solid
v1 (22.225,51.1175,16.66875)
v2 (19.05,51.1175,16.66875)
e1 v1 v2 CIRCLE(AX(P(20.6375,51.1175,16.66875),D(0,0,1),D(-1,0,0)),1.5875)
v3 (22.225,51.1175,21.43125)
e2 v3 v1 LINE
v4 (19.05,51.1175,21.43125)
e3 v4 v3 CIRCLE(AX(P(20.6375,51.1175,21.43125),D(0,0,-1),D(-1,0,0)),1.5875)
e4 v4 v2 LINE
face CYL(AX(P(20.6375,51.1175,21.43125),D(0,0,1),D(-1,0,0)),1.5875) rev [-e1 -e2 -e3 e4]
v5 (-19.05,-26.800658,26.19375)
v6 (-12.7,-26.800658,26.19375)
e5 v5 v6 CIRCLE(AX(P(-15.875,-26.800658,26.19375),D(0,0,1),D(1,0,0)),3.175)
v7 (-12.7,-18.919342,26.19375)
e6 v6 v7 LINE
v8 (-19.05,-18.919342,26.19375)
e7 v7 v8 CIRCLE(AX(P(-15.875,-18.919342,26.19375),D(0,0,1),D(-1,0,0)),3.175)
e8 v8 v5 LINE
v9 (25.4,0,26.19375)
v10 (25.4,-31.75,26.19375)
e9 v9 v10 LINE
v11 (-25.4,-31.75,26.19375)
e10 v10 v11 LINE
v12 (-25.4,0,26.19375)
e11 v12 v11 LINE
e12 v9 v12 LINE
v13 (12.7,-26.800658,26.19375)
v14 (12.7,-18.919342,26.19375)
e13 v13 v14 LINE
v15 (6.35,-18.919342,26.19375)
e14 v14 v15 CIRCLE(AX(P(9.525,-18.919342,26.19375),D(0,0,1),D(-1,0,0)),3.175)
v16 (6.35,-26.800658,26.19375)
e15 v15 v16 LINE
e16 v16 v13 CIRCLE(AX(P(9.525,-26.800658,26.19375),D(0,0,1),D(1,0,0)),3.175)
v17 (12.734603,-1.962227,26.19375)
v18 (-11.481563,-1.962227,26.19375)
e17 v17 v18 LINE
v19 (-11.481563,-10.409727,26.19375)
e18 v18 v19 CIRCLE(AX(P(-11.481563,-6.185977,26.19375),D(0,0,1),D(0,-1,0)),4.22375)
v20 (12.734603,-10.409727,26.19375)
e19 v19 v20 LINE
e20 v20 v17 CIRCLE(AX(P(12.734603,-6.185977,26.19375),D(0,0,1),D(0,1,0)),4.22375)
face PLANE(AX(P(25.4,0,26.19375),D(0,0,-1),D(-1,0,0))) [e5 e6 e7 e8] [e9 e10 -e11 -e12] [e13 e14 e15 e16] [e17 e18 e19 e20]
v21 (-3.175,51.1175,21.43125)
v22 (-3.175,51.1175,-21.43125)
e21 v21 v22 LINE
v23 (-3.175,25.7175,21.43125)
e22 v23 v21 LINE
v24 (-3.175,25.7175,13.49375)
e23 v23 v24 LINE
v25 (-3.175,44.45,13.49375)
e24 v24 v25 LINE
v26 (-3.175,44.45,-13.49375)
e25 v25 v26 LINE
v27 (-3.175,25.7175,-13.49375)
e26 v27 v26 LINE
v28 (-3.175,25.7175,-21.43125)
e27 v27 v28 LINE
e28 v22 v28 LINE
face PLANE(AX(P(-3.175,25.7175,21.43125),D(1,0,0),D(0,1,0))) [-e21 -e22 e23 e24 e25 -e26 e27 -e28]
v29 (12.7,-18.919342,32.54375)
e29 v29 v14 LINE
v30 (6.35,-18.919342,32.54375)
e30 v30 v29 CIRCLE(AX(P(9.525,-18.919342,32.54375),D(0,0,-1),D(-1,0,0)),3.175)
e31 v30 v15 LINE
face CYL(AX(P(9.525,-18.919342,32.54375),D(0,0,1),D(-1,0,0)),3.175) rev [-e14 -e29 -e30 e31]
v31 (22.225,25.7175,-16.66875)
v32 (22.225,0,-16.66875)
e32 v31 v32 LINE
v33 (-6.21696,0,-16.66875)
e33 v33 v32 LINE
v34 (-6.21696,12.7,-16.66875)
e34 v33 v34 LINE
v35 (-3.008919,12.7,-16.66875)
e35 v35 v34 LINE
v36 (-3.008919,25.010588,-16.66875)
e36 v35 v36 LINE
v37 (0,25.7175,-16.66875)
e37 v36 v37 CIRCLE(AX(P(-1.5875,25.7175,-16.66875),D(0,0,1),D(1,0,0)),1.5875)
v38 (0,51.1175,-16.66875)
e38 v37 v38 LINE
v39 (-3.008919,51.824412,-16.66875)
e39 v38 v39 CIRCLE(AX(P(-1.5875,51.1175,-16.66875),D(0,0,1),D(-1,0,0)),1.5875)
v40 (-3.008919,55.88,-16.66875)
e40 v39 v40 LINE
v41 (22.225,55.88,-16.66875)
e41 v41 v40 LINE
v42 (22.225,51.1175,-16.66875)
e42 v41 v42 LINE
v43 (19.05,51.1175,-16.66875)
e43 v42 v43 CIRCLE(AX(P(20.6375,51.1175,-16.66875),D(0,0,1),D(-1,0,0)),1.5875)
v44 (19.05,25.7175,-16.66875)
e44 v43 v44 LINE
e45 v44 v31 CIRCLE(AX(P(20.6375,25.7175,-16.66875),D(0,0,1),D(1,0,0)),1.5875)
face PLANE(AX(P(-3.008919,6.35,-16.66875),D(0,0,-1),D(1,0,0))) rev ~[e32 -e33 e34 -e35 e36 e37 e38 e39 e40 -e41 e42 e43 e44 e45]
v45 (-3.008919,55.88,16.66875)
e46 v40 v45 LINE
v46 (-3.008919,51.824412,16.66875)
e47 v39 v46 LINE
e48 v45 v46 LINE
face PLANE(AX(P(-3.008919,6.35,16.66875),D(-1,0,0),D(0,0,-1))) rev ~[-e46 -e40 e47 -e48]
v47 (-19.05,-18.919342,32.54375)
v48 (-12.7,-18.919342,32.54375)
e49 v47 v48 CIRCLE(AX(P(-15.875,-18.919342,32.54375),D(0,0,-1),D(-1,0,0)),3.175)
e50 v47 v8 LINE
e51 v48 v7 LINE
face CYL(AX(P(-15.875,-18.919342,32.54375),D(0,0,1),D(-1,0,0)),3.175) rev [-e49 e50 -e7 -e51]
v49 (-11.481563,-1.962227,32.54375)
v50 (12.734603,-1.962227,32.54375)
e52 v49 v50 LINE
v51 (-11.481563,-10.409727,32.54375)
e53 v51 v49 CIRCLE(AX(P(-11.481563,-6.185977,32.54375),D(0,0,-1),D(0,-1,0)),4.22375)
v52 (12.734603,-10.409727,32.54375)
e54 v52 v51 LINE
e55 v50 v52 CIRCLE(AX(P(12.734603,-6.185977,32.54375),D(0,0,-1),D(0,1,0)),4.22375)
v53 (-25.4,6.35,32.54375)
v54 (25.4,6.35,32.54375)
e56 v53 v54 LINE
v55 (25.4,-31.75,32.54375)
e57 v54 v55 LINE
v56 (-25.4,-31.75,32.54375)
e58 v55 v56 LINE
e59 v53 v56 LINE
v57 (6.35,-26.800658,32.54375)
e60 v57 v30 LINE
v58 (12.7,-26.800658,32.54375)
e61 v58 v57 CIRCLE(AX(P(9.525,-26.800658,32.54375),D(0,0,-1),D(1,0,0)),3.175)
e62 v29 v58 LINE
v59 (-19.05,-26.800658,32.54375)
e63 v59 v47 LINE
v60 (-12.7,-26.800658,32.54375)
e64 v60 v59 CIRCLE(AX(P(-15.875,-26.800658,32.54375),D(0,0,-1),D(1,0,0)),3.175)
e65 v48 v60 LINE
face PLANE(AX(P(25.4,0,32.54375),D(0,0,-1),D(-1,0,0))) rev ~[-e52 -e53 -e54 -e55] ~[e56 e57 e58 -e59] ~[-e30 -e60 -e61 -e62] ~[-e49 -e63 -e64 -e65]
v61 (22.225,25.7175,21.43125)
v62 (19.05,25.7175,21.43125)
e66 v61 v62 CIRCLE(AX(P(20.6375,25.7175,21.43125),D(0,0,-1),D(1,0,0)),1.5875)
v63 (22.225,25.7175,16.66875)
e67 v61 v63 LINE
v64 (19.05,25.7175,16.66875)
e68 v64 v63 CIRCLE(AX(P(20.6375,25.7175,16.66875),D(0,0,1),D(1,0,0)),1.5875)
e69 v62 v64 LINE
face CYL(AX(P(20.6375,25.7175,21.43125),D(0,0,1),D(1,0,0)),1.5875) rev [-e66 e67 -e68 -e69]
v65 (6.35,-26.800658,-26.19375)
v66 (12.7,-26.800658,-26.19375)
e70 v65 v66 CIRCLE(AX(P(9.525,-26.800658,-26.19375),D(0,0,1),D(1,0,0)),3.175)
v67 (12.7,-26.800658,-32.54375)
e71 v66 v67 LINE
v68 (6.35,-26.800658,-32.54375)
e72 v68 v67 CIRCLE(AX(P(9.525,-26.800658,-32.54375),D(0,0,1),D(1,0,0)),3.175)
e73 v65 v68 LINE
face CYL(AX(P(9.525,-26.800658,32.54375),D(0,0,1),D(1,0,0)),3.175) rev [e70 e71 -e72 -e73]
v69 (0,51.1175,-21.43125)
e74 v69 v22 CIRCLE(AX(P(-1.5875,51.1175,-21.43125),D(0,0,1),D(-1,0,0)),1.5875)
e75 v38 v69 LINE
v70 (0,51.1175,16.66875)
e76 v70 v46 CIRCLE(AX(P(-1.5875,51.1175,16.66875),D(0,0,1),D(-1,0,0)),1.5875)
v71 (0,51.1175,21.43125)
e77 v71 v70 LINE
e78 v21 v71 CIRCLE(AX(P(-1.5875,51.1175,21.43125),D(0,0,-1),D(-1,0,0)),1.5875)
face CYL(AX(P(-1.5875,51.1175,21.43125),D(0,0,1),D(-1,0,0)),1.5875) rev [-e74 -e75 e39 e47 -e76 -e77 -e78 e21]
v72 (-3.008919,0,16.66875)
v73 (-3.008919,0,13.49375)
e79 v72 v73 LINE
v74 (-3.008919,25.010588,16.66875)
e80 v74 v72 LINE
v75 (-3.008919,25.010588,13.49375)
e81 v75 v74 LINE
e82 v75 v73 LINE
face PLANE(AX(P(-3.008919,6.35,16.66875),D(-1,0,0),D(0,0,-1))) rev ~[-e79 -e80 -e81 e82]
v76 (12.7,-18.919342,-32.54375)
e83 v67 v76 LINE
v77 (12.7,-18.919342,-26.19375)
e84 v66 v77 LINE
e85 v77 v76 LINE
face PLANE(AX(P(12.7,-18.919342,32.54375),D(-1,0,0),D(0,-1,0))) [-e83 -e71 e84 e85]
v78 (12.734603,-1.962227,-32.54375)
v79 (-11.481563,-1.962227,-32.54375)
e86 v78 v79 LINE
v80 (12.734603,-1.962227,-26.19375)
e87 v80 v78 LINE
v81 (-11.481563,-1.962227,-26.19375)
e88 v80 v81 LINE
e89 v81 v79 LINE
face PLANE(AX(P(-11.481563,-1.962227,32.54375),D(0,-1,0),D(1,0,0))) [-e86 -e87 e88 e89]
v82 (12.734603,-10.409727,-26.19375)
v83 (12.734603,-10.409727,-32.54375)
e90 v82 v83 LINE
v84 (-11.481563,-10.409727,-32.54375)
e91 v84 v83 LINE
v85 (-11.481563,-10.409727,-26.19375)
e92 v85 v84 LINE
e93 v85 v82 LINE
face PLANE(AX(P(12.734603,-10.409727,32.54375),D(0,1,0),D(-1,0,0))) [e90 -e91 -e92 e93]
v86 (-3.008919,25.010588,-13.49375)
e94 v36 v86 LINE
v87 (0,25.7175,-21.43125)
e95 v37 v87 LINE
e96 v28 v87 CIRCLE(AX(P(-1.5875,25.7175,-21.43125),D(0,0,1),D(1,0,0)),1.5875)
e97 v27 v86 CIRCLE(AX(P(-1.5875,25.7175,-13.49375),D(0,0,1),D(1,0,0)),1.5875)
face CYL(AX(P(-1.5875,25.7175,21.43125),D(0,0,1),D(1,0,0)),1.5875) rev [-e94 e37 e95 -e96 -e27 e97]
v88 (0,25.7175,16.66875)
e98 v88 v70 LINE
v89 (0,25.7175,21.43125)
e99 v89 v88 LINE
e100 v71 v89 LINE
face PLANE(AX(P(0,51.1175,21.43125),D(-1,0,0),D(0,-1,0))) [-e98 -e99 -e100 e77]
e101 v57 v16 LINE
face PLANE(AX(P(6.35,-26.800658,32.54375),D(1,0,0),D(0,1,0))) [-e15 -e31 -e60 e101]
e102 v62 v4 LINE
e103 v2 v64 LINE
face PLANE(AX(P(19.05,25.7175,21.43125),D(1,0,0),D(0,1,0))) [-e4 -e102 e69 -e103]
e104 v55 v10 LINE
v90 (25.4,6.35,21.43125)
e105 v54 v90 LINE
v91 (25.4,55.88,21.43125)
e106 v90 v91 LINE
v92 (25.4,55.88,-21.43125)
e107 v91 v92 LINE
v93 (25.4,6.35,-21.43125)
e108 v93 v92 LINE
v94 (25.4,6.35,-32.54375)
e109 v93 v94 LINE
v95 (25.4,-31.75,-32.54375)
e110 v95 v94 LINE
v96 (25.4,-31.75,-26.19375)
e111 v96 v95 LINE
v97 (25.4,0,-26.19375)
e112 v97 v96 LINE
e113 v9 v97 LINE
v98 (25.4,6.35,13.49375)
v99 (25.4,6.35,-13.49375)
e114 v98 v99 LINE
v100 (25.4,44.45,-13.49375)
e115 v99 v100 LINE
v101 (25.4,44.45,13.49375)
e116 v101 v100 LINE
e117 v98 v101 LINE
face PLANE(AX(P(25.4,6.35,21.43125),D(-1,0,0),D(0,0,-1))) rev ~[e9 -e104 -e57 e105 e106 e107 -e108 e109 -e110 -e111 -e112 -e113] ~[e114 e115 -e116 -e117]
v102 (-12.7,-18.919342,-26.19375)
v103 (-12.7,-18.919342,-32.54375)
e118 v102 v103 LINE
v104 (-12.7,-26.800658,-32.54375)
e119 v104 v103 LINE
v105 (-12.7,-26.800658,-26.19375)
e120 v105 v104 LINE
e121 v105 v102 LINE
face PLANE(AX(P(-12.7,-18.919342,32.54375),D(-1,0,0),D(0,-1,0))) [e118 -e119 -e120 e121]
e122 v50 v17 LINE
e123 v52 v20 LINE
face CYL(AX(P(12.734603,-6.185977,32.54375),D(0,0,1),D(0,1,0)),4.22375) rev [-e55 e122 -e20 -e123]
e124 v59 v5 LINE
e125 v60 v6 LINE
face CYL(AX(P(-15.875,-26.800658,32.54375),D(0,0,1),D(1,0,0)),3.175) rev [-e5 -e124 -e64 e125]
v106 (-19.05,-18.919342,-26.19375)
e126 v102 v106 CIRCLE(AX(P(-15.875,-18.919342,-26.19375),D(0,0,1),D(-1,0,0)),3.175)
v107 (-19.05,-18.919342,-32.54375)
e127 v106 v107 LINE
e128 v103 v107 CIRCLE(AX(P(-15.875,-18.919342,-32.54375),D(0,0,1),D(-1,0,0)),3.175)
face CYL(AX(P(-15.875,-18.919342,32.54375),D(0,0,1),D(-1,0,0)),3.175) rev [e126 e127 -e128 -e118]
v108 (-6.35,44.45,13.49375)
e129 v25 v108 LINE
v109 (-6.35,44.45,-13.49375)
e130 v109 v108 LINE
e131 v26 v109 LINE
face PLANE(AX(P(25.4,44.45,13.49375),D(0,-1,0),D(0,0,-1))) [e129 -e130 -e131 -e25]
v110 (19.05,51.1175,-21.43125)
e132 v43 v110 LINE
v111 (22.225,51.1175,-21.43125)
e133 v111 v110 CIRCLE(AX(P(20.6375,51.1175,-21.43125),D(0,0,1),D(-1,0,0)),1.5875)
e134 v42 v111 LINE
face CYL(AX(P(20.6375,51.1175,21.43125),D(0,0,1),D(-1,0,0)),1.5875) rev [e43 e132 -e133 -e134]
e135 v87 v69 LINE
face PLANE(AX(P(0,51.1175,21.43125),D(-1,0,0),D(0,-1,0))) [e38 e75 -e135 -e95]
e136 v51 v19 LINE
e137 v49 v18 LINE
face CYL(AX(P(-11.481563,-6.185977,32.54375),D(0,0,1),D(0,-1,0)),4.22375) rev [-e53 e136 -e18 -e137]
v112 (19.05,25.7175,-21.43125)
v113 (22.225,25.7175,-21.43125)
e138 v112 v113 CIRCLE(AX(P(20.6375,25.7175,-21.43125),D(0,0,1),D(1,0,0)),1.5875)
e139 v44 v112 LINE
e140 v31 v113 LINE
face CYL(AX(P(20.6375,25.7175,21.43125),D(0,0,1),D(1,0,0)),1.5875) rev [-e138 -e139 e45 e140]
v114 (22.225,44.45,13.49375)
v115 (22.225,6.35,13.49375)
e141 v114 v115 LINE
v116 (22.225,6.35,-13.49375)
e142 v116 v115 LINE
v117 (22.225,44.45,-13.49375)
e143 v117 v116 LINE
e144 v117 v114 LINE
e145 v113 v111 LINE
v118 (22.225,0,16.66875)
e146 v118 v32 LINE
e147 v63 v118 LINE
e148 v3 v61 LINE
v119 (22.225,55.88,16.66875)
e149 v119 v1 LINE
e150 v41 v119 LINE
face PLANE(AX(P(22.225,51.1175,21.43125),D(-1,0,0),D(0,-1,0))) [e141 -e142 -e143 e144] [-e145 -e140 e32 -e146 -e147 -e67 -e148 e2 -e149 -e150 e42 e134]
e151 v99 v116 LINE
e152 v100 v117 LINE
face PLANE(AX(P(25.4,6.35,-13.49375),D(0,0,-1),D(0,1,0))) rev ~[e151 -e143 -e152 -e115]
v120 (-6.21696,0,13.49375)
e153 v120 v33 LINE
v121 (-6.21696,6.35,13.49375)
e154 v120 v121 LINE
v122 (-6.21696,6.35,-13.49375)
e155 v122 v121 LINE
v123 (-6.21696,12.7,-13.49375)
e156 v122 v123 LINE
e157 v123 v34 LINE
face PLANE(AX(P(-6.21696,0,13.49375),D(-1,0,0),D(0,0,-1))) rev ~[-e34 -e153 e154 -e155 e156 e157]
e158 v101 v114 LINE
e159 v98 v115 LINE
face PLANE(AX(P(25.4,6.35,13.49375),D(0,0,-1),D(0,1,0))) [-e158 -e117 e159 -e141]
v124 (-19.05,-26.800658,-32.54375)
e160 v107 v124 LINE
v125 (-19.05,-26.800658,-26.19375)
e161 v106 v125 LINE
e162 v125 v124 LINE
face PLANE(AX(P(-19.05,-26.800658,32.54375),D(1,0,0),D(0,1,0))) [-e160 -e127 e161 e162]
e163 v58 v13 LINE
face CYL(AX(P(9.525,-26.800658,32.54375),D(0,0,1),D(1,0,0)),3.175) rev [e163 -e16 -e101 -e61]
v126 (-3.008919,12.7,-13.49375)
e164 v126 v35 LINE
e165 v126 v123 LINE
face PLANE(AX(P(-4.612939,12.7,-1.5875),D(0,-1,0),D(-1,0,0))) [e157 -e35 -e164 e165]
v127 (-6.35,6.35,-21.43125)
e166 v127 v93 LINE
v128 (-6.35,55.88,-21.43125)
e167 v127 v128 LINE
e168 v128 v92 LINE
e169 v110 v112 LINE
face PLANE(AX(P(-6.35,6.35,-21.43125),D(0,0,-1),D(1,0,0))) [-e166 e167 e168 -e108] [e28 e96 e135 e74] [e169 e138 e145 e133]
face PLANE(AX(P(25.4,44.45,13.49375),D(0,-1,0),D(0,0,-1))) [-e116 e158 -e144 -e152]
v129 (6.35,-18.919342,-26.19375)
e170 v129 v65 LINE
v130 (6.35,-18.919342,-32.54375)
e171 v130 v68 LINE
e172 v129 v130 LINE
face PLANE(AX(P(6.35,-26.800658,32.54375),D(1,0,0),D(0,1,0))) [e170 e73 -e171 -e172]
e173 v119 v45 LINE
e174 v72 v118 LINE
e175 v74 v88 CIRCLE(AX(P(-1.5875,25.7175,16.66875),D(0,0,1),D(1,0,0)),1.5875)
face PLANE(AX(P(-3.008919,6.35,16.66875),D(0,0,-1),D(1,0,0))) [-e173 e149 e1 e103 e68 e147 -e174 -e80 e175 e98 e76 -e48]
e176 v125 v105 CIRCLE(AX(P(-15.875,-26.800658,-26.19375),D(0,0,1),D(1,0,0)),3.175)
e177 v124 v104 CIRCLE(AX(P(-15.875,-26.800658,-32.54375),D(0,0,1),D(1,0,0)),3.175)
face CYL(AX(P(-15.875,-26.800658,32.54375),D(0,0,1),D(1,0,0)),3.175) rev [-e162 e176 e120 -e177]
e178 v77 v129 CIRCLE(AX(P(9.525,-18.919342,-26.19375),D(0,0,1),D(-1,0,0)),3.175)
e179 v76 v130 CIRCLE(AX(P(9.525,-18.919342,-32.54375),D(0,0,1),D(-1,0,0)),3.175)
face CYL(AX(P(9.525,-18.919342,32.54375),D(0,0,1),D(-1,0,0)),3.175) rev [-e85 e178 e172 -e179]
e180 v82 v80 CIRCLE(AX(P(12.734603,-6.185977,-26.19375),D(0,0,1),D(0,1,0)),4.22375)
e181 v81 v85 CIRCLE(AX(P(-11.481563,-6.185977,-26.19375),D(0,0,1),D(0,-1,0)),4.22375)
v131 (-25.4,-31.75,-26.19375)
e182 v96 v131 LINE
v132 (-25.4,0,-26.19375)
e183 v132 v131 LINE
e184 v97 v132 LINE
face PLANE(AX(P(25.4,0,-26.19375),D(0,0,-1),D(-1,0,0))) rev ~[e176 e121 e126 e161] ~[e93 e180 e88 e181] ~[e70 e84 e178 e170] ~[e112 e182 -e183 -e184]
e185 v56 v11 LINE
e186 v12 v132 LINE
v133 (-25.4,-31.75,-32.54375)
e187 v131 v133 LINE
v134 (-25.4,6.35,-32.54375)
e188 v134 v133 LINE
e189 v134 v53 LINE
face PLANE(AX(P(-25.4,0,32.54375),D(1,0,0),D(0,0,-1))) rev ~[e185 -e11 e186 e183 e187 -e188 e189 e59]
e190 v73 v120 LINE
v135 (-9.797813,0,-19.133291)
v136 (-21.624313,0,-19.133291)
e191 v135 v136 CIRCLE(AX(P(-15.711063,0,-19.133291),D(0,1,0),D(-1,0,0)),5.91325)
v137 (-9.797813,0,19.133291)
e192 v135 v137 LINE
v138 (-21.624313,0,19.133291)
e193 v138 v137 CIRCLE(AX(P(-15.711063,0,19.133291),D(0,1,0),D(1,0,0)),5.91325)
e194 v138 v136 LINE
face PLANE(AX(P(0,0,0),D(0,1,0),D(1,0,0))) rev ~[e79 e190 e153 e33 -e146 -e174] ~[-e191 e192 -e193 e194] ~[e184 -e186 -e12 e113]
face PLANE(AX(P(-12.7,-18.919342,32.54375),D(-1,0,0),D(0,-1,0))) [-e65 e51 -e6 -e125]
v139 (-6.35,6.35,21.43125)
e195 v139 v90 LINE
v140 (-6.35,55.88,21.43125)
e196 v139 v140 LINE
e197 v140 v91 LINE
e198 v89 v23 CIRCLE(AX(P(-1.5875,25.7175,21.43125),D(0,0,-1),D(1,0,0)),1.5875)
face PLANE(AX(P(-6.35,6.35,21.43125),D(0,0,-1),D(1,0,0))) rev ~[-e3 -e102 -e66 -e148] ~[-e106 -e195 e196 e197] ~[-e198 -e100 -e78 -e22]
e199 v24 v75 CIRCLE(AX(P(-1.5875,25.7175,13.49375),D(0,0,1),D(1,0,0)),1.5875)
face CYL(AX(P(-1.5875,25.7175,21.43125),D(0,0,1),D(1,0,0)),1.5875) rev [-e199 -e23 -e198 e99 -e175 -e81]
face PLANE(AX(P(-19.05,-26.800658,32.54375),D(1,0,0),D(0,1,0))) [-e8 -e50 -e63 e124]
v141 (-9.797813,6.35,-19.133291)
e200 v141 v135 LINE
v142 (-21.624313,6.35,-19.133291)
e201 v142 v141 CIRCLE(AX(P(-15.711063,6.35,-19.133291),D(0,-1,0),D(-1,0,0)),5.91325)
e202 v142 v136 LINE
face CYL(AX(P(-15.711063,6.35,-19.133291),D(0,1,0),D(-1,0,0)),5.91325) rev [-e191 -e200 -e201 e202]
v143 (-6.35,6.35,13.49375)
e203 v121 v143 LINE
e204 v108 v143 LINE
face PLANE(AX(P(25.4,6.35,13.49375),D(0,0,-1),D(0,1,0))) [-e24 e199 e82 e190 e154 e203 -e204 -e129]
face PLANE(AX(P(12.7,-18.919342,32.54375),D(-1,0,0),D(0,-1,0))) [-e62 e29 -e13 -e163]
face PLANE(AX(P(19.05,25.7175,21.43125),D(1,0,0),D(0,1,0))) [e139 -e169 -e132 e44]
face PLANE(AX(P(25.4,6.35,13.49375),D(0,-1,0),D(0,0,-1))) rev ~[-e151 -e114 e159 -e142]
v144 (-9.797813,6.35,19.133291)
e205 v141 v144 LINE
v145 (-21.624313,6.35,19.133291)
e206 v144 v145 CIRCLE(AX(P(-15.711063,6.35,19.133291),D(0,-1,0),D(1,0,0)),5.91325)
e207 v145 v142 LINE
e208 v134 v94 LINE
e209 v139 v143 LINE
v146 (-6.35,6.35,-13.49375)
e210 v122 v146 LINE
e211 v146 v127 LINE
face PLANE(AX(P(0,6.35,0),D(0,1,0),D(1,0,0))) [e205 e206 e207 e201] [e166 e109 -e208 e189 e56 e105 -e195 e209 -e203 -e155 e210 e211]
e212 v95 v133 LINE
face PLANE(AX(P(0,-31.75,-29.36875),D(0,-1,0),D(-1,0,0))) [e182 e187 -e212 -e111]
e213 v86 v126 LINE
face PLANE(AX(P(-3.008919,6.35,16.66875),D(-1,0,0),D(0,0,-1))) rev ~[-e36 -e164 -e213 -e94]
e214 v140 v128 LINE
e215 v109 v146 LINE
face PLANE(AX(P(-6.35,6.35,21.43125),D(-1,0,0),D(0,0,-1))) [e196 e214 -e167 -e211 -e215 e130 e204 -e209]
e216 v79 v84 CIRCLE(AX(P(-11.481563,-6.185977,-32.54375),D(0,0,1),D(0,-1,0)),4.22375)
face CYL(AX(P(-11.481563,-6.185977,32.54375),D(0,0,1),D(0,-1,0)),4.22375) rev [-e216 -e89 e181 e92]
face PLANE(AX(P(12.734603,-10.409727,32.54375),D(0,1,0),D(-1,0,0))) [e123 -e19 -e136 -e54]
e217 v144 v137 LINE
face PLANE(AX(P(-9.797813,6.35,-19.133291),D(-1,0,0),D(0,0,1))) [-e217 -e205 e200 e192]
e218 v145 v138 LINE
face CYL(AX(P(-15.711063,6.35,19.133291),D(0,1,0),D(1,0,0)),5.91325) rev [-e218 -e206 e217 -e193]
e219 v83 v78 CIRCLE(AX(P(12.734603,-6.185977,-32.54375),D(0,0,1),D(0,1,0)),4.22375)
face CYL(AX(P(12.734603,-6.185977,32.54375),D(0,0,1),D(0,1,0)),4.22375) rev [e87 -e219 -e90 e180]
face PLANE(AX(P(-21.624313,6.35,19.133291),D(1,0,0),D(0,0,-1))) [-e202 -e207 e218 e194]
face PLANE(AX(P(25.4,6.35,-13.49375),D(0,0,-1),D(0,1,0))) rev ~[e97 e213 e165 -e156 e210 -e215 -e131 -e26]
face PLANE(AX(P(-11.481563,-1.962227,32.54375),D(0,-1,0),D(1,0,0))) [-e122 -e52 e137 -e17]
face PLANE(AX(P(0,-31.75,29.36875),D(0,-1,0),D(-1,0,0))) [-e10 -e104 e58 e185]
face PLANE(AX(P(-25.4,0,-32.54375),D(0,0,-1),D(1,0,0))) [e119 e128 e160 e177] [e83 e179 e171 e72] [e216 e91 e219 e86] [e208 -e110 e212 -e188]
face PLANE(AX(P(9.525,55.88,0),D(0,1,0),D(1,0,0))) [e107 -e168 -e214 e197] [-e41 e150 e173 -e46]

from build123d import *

# Parameters (mm, degrees)
SKETCH1_W           = 50.8
SKETCH1_H           = 65.0875
BOSS_EXTRUDE1_DEPTH = 6.35
SKETCH2_W           = 50.8
SKETCH2_H           = 6.35
BOSS_EXTRUDE2_DEPTH = 31.75
SKETCH4_W           = 25.233918668
SKETCH4_H           = 33.3375
CUT_EXTRUDE1_DEPTH  = 31.75
SKETCH5_W           = 31.75
SKETCH5_H           = 42.8625
BOSS_EXTRUDE3_DEPTH = 49.53
SKETCH4_2_W         = 25.233918668
SKETCH4_2_H         = 33.3375
CUT_EXTRUDE2_DEPTH  = 58.7375
CUT_EXTRUDE4_DEPTH  = 58.7375
SKETCH8_W           = 26.9875
SKETCH8_H           = 38.1
CUT_EXTRUDE7_DEPTH  = 58.7375
SKETCH12_W          = 3.208041114
SKETCH12_H          = 30.1625
CUT_EXTRUDE13_DEPTH = 12.7
CUT_EXTRUDE14_DEPTH = 76.2
CUT_EXTRUDE15_DEPTH = 76.2
CUT_EXTRUDE16_DEPTH = 76.2


with BuildPart() as part:
    # Sketch1 → Boss-Extrude1 (new body)
    with BuildSketch(Plane(origin=(0, 0, 0), x_dir=(1, 0, 0), z_dir=(0, 1, 0))):
        Rectangle(SKETCH1_W, SKETCH1_H)
    extrude(amount=BOSS_EXTRUDE1_DEPTH)

    # Sketch2 → Boss-Extrude2 (add)
    with BuildSketch(Plane(origin=(0, 0, 0), x_dir=(-1, 0, 0), z_dir=(0, -1, 0))):
        with Locations((0, -29.36875)):
            Rectangle(SKETCH2_W, SKETCH2_H)
        with Locations((0, 29.36875)):
            Rectangle(SKETCH2_W, SKETCH2_H)
    extrude(amount=BOSS_EXTRUDE2_DEPTH)

    # Sketch4 → Cut-Extrude1 (cut)
    with BuildSketch(Plane(origin=(0, 6.35, 0), x_dir=(1, 0, 0), z_dir=(0, 1, 0))):
        with Locations((9.608040666, 0)):
            Rectangle(SKETCH4_W, SKETCH4_H)
    extrude(amount=-CUT_EXTRUDE1_DEPTH, mode=Mode.SUBTRACT)

    # Sketch5 → Boss-Extrude3 (add)
    with BuildSketch(Plane(origin=(0, 6.35, 0), x_dir=(1, 0, 0), z_dir=(0, 1, 0))):
        with Locations((9.525, 0)):
            Rectangle(SKETCH5_W, SKETCH5_H)
    extrude(amount=BOSS_EXTRUDE3_DEPTH)

    # Sketch4<2> → Cut-Extrude2 (cut)
    with BuildSketch(Plane(origin=(0, 6.35, 0), x_dir=(1, 0, 0), z_dir=(0, 1, 0))):
        with Locations((9.608040666, 0)):
            Rectangle(SKETCH4_2_W, SKETCH4_2_H)
    extrude(amount=CUT_EXTRUDE2_DEPTH, mode=Mode.SUBTRACT)

    # Sketch7 → Cut-Extrude4 (cut)
    with BuildSketch(Plane.XY.offset(21.43125)):
        with BuildLine():
            Line((19.05, 25.7175), (19.05, 51.1175))
            ThreePointArc((19.05, 51.1175), (20.6375, 52.705), (22.225, 51.1175))
            Line((22.225, 51.1175), (22.225, 25.7175))
            ThreePointArc((22.225, 25.7175), (20.6375, 24.13), (19.05, 25.7175))
        make_face()
        with BuildLine():
            Line((0, 51.1175), (0, 25.7175))
            ThreePointArc((0, 25.7175), (-1.5875, 24.13), (-3.175, 25.7175))
            Line((-3.175, 25.7175), (-3.175, 51.1175))
            ThreePointArc((-3.175, 51.1175), (-1.5875, 52.705), (0, 51.1175))
        make_face()
    extrude(amount=-CUT_EXTRUDE4_DEPTH, mode=Mode.SUBTRACT)

    # Sketch8 → Cut-Extrude7 (cut)
    with BuildSketch(Plane(origin=(25.4, 0, 0), x_dir=(0, 0, -1), z_dir=(1, 0, 0))):
        with Locations((0, 25.4)):
            Rectangle(SKETCH8_W, SKETCH8_H)
    extrude(amount=-CUT_EXTRUDE7_DEPTH, mode=Mode.SUBTRACT)

    # Sketch12 → Cut-Extrude13 (cut)
    with BuildSketch(Plane(origin=(0, 0, 0), x_dir=(-1, 0, 0), z_dir=(0, -1, 0))):
        with Locations((4.612939225, 1.5875)):
            Rectangle(SKETCH12_W, SKETCH12_H)
    extrude(amount=-CUT_EXTRUDE13_DEPTH, mode=Mode.SUBTRACT)

    # Sketch14 → Cut-Extrude14 (cut)
    with BuildSketch(Plane.XY.offset(32.54375)):
        with BuildLine():
            Line((12.7, -18.919342158), (12.7, -26.800657842))
            ThreePointArc((12.7, -26.800657842), (9.525, -29.975657842), (6.35, -26.800657842))
            Line((6.35, -26.800657842), (6.35, -18.919342158))
            ThreePointArc((6.35, -18.919342158), (9.525, -15.744342158), (12.7, -18.919342158))
        make_face()
        with BuildLine():
            Line((-12.7, -18.919342158), (-12.7, -26.800657842))
            ThreePointArc((-12.7, -26.800657842), (-15.875, -29.975657842), (-19.05, -26.800657842))
            Line((-19.05, -26.800657842), (-19.05, -18.919342158))
            ThreePointArc((-19.05, -18.919342158), (-15.875, -15.744342158), (-12.7, -18.919342158))
        make_face()
    extrude(amount=-CUT_EXTRUDE14_DEPTH, mode=Mode.SUBTRACT)

    # Sketch15 → Cut-Extrude15 (cut)
    with BuildSketch(Plane.XY.offset(32.54375)):
        with BuildLine():
            Line((-11.481562965, -1.962227272), (12.734603348, -1.962227272))
            ThreePointArc((12.734603348, -1.962227272), (16.958353287, -6.18597721), (12.734603348, -10.409727149))
            Line((12.734603348, -10.409727149), (-11.481562965, -10.409727149))
            ThreePointArc((-11.481562965, -10.409727149), (-15.705312903, -6.18597721), (-11.481562965, -1.962227272))
        make_face()
    extrude(amount=-CUT_EXTRUDE15_DEPTH, mode=Mode.SUBTRACT)

    # Sketch16 → Cut-Extrude16 (cut)
    with BuildSketch(Plane(origin=(0, 6.35, 0), x_dir=(1, 0, 0), z_dir=(0, 1, 0))):
        with BuildLine():
            Line((-9.797813027, 19.133291295), (-9.797813027, -19.133291295))
            ThreePointArc((-9.797813027, -19.133291295), (-15.71106294, -25.046541209), (-21.624312854, -19.133291295))
            Line((-21.624312854, -19.133291295), (-21.624312854, 19.133291295))
            ThreePointArc((-21.624312854, 19.133291295), (-15.71106294, 25.046541209), (-9.797813027, 19.133291295))
        make_face()
    extrude(amount=-CUT_EXTRUDE16_DEPTH, mode=Mode.SUBTRACT)


solid = part.part
